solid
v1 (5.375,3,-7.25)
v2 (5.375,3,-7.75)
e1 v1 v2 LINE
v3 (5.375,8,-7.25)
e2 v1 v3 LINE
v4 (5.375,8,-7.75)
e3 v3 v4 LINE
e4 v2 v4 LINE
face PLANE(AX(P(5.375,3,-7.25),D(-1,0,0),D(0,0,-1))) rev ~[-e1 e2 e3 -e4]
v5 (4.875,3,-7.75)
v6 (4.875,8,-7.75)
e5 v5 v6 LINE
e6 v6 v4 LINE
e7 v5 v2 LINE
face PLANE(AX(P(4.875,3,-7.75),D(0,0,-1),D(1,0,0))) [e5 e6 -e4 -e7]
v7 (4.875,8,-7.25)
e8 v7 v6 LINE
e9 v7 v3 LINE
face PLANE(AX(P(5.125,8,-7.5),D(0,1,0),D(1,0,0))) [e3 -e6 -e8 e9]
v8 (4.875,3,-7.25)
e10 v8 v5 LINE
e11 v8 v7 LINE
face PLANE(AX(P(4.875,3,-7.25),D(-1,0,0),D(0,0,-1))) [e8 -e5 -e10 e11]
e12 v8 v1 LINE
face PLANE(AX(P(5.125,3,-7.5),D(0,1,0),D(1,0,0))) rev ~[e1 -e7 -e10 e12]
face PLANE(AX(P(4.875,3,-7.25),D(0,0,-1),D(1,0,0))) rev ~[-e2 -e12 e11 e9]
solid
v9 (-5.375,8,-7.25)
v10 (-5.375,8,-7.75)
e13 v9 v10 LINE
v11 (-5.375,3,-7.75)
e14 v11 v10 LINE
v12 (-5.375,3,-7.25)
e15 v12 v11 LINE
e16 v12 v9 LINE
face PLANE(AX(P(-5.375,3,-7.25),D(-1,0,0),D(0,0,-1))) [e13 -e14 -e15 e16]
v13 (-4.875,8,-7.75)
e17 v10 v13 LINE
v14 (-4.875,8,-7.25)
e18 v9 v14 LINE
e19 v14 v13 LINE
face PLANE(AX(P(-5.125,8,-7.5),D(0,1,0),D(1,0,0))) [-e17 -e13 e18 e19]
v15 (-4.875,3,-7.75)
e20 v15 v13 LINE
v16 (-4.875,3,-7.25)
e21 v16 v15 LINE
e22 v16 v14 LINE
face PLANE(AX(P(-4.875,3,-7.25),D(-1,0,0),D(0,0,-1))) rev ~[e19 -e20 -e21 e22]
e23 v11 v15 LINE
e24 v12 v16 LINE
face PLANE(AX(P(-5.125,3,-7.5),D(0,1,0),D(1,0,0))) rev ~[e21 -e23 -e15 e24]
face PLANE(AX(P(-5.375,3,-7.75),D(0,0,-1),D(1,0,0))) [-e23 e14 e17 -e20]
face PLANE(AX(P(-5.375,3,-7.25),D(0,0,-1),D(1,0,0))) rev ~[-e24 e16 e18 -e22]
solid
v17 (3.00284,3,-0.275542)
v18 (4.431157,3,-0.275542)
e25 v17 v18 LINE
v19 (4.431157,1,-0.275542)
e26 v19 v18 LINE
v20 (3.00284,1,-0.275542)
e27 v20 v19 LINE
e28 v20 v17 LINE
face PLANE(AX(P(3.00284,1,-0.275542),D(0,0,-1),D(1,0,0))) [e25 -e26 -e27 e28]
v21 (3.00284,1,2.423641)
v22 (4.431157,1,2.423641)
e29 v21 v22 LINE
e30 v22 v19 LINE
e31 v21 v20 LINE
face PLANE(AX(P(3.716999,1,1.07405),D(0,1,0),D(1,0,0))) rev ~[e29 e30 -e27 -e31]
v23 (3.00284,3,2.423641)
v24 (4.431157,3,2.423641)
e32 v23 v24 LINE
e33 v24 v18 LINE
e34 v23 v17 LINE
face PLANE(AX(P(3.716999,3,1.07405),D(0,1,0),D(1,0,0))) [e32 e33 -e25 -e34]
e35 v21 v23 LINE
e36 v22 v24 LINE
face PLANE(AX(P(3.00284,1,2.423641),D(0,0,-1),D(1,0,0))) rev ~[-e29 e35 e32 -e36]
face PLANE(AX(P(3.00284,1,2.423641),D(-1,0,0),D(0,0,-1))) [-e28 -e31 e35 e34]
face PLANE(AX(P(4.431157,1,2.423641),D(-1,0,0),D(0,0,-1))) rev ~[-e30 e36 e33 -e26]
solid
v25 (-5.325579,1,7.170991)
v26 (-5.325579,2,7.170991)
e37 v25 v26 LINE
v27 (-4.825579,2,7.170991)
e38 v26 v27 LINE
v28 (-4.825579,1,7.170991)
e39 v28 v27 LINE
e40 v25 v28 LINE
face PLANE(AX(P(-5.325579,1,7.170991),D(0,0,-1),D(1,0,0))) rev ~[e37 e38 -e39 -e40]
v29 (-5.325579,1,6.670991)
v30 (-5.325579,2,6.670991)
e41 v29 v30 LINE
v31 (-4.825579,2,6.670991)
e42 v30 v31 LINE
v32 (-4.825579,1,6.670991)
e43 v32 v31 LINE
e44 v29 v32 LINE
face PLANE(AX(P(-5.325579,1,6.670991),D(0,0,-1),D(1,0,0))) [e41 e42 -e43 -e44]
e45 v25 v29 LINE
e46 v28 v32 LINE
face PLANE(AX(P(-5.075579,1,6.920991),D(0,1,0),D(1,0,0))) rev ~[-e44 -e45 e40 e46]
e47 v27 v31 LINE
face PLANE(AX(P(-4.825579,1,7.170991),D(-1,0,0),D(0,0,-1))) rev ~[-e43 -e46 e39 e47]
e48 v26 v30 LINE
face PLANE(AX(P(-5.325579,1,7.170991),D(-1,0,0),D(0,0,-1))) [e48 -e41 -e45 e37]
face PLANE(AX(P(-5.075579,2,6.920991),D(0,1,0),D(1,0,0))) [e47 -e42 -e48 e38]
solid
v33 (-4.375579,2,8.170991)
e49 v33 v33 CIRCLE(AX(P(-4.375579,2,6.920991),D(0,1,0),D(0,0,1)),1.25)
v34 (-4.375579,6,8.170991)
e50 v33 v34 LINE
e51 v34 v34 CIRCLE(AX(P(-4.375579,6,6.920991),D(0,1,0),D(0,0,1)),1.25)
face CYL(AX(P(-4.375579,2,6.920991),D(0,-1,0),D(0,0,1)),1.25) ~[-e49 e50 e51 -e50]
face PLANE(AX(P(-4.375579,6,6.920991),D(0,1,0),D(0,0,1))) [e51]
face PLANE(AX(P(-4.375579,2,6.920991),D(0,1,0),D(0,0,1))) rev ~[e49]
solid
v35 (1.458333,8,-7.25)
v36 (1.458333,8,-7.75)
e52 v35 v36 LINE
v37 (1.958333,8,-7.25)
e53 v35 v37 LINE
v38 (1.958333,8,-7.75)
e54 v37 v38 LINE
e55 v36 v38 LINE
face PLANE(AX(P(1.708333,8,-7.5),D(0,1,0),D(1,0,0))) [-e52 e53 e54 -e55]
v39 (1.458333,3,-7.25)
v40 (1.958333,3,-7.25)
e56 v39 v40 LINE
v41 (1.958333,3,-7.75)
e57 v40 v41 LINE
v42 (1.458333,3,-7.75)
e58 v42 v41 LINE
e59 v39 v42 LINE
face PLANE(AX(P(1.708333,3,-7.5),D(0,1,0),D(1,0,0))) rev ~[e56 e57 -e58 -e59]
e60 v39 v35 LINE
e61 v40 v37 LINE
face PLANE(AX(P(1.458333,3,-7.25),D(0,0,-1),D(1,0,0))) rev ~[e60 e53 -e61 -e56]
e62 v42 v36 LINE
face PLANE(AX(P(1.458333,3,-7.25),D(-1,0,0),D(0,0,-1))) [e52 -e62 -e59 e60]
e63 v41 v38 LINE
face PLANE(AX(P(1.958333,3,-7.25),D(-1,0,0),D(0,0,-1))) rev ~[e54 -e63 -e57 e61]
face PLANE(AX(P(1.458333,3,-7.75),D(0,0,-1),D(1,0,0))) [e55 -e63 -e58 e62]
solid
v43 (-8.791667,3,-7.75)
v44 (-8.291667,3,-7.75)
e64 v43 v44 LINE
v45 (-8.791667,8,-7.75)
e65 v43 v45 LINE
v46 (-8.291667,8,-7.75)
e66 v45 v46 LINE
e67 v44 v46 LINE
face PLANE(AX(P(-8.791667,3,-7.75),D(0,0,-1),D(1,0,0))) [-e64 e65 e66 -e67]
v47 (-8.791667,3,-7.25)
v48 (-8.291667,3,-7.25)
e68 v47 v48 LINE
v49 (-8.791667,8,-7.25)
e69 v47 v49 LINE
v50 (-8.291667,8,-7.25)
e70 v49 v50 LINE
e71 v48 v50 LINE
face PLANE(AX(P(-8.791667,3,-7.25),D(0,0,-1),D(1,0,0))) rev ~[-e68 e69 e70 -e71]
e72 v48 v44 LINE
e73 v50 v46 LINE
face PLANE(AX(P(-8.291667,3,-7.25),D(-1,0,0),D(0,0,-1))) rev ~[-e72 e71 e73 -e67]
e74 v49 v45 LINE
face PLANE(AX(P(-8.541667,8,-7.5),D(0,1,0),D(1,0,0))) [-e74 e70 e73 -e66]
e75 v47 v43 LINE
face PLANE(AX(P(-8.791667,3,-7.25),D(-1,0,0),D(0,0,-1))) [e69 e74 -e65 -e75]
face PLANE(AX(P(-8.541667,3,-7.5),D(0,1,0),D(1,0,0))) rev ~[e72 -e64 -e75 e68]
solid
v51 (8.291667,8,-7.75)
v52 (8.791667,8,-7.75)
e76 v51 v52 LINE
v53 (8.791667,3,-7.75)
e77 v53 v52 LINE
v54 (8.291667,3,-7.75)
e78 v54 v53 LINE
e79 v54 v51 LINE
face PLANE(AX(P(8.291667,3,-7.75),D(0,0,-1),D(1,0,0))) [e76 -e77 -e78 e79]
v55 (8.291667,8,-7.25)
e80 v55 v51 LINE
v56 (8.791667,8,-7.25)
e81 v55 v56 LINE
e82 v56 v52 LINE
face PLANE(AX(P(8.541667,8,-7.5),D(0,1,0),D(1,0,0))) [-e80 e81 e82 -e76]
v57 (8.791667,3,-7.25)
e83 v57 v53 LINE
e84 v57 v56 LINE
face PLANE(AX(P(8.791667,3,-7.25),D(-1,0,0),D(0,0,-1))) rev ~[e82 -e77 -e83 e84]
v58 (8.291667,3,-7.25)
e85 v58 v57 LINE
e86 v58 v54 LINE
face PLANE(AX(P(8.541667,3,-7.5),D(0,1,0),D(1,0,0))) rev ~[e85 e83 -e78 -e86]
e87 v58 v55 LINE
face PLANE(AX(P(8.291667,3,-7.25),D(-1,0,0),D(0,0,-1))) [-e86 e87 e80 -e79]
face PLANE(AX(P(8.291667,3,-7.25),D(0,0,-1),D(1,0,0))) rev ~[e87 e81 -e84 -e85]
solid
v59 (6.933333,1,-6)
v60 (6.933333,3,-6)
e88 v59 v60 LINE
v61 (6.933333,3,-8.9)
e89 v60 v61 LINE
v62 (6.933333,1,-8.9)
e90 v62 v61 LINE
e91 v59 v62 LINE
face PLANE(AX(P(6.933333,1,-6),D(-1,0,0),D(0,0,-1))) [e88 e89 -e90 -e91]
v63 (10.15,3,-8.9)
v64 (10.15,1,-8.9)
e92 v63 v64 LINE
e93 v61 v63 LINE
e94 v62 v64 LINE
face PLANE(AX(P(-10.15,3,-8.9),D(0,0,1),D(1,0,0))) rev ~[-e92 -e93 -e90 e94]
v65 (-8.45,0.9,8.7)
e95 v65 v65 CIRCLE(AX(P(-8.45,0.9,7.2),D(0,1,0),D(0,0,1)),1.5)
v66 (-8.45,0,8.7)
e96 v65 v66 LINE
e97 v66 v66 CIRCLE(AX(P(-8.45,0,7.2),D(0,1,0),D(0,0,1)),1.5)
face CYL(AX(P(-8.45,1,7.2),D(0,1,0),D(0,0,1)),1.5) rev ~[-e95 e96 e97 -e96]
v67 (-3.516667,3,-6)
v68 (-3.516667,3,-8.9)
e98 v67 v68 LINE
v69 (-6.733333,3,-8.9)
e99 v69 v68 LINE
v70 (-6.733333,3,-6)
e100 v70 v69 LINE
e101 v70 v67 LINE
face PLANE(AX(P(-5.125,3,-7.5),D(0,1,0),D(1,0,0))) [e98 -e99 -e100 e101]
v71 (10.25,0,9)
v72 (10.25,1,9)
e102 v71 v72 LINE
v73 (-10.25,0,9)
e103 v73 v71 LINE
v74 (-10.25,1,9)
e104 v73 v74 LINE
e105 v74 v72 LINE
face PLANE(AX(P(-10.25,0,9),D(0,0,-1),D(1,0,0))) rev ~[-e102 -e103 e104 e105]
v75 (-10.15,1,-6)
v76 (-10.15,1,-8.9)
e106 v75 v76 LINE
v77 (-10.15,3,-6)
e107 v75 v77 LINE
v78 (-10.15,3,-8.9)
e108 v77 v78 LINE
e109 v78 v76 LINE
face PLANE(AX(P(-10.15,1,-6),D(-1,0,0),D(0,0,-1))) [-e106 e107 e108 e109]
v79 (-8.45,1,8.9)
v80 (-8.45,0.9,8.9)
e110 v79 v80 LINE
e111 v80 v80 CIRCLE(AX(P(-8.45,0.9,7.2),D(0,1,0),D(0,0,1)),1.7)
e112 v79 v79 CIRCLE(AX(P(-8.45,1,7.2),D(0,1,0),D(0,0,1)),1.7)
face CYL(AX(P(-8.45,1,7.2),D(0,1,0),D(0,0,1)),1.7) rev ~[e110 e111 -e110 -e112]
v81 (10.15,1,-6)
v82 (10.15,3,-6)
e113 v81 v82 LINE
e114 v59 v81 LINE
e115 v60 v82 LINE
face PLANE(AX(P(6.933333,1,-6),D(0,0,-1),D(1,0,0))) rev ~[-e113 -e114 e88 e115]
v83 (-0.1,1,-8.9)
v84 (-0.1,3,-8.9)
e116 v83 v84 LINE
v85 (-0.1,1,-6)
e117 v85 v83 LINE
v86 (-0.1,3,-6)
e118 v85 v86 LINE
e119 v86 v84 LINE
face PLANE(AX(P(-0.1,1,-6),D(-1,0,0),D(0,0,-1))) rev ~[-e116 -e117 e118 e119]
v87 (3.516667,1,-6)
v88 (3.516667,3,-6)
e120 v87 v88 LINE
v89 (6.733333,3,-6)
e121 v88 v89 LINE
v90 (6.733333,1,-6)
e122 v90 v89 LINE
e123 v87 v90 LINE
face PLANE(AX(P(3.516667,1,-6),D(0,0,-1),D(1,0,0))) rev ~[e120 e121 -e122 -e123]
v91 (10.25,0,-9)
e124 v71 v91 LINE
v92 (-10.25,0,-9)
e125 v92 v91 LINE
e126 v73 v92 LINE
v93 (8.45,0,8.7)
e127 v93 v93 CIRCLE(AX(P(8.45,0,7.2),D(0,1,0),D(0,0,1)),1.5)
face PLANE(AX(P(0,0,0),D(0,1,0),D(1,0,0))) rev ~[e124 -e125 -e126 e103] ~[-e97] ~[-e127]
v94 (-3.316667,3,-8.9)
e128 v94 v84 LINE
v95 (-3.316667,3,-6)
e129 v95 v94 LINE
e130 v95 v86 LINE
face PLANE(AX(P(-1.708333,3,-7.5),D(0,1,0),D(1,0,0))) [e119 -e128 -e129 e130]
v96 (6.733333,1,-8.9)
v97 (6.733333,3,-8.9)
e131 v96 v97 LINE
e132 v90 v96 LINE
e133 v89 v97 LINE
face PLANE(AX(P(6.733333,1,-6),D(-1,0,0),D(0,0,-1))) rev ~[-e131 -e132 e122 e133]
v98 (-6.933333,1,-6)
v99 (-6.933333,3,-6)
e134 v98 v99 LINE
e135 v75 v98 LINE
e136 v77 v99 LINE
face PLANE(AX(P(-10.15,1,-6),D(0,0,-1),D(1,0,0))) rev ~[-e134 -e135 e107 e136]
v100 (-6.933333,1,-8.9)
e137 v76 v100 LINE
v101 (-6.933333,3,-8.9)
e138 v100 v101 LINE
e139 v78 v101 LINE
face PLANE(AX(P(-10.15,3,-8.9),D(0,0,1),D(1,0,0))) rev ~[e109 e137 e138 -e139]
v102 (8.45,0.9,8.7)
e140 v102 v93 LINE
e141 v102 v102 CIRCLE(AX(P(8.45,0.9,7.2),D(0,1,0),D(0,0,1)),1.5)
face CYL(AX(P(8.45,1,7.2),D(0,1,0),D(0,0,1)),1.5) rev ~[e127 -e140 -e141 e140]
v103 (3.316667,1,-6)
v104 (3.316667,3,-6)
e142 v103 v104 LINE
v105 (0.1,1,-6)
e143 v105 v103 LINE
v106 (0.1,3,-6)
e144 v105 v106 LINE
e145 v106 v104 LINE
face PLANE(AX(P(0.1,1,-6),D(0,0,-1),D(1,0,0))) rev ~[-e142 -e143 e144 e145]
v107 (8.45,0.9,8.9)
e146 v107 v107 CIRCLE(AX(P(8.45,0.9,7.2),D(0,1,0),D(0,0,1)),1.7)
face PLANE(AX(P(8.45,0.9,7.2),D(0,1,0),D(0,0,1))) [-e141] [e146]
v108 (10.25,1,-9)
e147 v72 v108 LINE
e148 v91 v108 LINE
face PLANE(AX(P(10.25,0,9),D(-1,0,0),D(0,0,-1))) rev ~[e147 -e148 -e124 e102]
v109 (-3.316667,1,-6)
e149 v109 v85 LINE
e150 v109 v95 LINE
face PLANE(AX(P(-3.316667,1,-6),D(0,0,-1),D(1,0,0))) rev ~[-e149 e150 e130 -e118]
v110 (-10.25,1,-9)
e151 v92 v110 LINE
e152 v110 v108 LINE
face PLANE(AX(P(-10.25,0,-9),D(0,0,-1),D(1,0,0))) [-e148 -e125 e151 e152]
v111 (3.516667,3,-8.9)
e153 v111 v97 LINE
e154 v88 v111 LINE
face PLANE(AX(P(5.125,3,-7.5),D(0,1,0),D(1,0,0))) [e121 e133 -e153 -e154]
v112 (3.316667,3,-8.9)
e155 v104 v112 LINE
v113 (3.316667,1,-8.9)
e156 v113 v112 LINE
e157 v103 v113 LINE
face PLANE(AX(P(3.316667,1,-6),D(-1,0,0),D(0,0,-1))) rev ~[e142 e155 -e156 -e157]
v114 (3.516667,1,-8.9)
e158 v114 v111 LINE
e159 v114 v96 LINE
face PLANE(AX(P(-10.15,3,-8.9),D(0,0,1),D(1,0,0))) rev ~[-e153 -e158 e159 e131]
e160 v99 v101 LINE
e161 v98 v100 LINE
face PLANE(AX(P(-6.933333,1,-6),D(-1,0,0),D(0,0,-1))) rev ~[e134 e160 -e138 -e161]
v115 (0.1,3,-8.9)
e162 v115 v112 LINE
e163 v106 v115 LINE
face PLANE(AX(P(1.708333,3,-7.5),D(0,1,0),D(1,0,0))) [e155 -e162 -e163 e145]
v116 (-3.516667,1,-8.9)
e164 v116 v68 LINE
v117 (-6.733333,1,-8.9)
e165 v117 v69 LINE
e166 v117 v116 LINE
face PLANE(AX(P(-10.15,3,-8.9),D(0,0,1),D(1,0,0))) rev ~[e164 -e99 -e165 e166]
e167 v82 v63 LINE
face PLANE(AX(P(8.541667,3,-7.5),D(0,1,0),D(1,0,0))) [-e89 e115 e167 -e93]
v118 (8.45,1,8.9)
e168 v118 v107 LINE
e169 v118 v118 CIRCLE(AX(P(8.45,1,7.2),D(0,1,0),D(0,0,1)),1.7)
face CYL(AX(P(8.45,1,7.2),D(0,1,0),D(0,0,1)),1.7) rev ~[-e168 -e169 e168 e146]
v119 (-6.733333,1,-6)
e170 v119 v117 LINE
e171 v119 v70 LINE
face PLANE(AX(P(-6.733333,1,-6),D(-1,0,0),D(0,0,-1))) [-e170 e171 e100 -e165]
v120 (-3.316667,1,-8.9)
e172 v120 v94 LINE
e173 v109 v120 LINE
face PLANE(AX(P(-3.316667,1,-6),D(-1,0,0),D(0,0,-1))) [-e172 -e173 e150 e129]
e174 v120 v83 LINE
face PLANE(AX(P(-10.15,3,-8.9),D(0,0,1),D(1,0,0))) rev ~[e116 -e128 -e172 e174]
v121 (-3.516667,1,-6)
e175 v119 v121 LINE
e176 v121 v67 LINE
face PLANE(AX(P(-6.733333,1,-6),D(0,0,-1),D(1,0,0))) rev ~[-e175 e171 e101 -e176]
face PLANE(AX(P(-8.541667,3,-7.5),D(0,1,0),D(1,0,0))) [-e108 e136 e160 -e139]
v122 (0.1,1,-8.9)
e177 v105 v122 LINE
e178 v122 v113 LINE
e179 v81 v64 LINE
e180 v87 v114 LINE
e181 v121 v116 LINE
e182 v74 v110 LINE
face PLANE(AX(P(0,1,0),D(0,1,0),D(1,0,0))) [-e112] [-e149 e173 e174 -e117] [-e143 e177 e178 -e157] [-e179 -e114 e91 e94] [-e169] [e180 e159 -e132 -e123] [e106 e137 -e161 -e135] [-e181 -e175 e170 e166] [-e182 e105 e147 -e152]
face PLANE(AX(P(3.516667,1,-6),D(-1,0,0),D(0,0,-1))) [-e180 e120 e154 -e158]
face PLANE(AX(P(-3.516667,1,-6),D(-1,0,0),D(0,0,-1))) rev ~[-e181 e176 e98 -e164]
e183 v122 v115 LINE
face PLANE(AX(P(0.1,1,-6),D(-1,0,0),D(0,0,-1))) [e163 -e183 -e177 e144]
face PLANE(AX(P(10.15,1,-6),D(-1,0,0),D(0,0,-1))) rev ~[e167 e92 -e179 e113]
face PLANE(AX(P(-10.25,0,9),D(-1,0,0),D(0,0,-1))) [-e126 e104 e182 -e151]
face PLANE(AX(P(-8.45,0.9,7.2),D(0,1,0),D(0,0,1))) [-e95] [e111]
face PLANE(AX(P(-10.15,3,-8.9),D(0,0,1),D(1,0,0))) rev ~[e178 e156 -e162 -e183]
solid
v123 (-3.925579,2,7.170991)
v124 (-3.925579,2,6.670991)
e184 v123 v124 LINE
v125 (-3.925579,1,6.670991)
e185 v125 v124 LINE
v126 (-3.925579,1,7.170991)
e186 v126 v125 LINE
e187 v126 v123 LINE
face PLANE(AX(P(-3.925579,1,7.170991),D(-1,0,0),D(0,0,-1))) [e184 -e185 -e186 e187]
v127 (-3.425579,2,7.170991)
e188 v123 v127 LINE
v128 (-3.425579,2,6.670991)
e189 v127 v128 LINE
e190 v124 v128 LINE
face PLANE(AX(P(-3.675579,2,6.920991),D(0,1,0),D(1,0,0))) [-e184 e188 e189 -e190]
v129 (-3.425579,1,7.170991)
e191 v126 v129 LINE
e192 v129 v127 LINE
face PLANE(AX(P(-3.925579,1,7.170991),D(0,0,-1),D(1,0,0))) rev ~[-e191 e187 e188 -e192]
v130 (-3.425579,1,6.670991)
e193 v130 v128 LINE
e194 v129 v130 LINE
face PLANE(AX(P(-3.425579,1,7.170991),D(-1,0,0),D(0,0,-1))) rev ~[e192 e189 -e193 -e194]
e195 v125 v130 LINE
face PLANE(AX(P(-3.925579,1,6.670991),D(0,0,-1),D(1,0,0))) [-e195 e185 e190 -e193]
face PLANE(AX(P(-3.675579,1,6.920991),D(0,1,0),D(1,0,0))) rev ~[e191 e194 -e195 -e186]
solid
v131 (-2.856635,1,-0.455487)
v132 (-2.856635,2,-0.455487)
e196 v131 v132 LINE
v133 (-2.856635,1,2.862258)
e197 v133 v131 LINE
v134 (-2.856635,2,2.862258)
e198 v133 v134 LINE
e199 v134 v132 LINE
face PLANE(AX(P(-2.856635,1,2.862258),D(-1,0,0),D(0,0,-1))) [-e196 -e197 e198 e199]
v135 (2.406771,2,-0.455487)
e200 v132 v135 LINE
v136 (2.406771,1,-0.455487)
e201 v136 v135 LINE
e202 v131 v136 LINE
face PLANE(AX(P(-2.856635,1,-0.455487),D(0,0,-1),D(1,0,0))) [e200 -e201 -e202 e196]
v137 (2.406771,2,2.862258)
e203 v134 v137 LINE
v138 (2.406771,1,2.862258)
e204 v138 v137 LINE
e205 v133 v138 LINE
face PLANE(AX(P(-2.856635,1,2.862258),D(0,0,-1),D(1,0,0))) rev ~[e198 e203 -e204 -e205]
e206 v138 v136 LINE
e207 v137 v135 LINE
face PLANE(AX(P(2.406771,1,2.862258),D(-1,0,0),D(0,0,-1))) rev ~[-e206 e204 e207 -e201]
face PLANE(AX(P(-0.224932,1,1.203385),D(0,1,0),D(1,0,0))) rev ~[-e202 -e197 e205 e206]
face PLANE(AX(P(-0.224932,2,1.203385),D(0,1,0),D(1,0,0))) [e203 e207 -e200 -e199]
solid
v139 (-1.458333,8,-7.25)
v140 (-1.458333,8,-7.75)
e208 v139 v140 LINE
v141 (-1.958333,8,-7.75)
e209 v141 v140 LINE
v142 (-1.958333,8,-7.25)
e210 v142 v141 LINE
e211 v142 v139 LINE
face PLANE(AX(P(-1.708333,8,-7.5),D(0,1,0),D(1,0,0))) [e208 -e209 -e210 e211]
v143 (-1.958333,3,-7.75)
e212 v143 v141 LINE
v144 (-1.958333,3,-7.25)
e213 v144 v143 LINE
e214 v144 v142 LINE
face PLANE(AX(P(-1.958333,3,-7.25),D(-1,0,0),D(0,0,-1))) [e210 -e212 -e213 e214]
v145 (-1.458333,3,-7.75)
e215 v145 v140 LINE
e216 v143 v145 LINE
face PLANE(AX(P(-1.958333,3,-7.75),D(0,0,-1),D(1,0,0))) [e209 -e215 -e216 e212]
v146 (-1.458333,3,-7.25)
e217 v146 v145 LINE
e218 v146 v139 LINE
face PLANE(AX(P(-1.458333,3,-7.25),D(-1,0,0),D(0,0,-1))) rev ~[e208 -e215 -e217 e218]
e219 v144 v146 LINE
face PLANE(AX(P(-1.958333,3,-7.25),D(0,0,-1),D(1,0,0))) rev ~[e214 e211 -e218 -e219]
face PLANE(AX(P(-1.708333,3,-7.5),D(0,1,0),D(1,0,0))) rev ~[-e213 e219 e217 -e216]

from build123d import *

# Parameters (mm, degrees)
SKETCH_1_W          = 20.5
SKETCH_1_H          = 18
EXTRUDE_1_DEPTH     = 1
SKETCH_2_W          = 3.216666667
SKETCH_2_H          = 3
SKETCH_2_W_2        = 3.216666666
EXTRUDE_2_DEPTH     = 2
SKETCH_3_W          = 0.5
SKETCH_3_H          = 0.5
EXTRUDE_3_DEPTH     = 5
EXTRUDE_3_2_DEPTH   = 5
EXTRUDE_3_3_DEPTH   = 5
EXTRUDE_3_4_DEPTH   = 5
EXTRUDE_3_5_DEPTH   = 5
EXTRUDE_3_6_DEPTH   = 5
SKETCH_4_W          = 20.3
SKETCH_4_H          = 0.1
CUT_EXTRUDE_1_DEPTH = 2
SKETCH_5_R          = 1.5
CUT_EXTRUDE_2_DEPTH = 22
SKETCH_6_R          = 1.7
SKETCH_6_R_2        = 1.5
CUT_EXTRUDE_3_DEPTH = 0.1
SKETCH_7_W          = 0.5
SKETCH_7_H          = 0.5
EXTRUDE_4_DEPTH     = 1
EXTRUDE_4_2_DEPTH   = 1
SKETCH_8_R          = 1.25
EXTRUDE_5_DEPTH     = 4
SKETCH_9_W          = 5.263405332
SKETCH_9_H          = 3.317744814
EXTRUDE_6_DEPTH     = 1
SKETCH_10_W         = 1.428317259
SKETCH_10_H         = 2.699182221
EXTRUDE_7_DEPTH     = 2


with BuildPart() as part:
    # 스케치1 → 보스-돌출1 (new body)
    with BuildSketch(Plane(origin=(0, 0, 0), x_dir=(1, 0, 0), z_dir=(0, 1, 0))):
        Rectangle(SKETCH_1_W, SKETCH_1_H)
    extrude(amount=EXTRUDE_1_DEPTH)

    # 스케치2 → 보스-돌출2 (add)
    with BuildSketch(Plane(origin=(0, 1, 0), x_dir=(1, 0, 0), z_dir=(0, 1, 0))):
        with Locations((-8.541666666, 7.5)):
            Rectangle(SKETCH_2_W, SKETCH_2_H)
        with Locations((-5.125, 7.5)):
            Rectangle(SKETCH_2_W_2, SKETCH_2_H)
        with Locations((-1.708333334, 7.5)):
            Rectangle(SKETCH_2_W, SKETCH_2_H)
        with Locations((1.708333334, 7.5)):
            Rectangle(SKETCH_2_W, SKETCH_2_H)
        with Locations((5.125, 7.5)):
            Rectangle(SKETCH_2_W_2, SKETCH_2_H)
        with Locations((8.541666666, 7.5)):
            Rectangle(SKETCH_2_W, SKETCH_2_H)
    extrude(amount=EXTRUDE_2_DEPTH)

    # 스케치4 → 컷-돌출1 (cut)
    with BuildSketch(Plane(origin=(0, 3, 0), x_dir=(1, 0, 0), z_dir=(0, 1, 0))):
        with Locations((0, 8.95)):
            Rectangle(SKETCH_4_W, SKETCH_4_H)
    extrude(amount=-CUT_EXTRUDE_1_DEPTH, mode=Mode.SUBTRACT)

    # 스케치5 → 컷-돌출2 (cut)
    with BuildSketch(Plane(origin=(0, 1, 0), x_dir=(1, 0, 0), z_dir=(0, 1, 0))):
        with Locations(Location((-8.45, -7.2, 0), (0, 0, 270))):
            Circle(SKETCH_5_R)
        with Locations(Location((8.45, -7.2, 0), (0, 0, 270))):
            Circle(SKETCH_5_R)
    extrude(amount=-CUT_EXTRUDE_2_DEPTH, mode=Mode.SUBTRACT)

    # 스케치6 → 컷-돌출3 (cut)
    # profile 1 of 2: a face of its own
    with BuildSketch(Plane(origin=(0, 1, 0), x_dir=(1, 0, 0), z_dir=(0, 1, 0))):
        with Locations(Location((-8.45, -7.2, 0), (0, 0, 270))):
            Circle(SKETCH_6_R)
        with Locations(Location((-8.45, -7.2, 0), (0, 0, 270))):
            Circle(SKETCH_6_R_2, mode=Mode.SUBTRACT)
    # profile 2 of 2: a face of its own
    with BuildSketch(Plane(origin=(0, 1, 0), x_dir=(1, 0, 0), z_dir=(0, 1, 0))):
        with Locations(Location((8.45, -7.2, 0), (0, 0, 270))):
            Circle(SKETCH_6_R)
        with Locations(Location((8.45, -7.2, 0), (0, 0, 270))):
            Circle(SKETCH_6_R_2, mode=Mode.SUBTRACT)
    extrude(amount=-CUT_EXTRUDE_3_DEPTH, mode=Mode.SUBTRACT)


with BuildPart() as body_2:
    # 스케치3 → 보스-돌출3 (new body)
    with BuildSketch(Plane(origin=(0, 3, 0), x_dir=(1, 0, 0), z_dir=(0, 1, 0))):
        with Locations((-8.541666667, 7.5)):
            Rectangle(SKETCH_3_W, SKETCH_3_H)
    extrude(amount=EXTRUDE_3_DEPTH)


with BuildPart() as body_3:
    # 스케치3 → Extrude 3 2 (new body)
    with BuildSketch(Plane(origin=(0, 3, 0), x_dir=(1, 0, 0), z_dir=(0, 1, 0))):
        with Locations((-5.125, 7.5)):
            Rectangle(SKETCH_3_W, SKETCH_3_H)
    extrude(amount=EXTRUDE_3_2_DEPTH)


with BuildPart() as body_4:
    # 스케치3 → Extrude 3 3 (new body)
    with BuildSketch(Plane(origin=(0, 3, 0), x_dir=(1, 0, 0), z_dir=(0, 1, 0))):
        with Locations((-1.708333333, 7.5)):
            Rectangle(SKETCH_3_W, SKETCH_3_H)
    extrude(amount=EXTRUDE_3_3_DEPTH)


with BuildPart() as body_5:
    # 스케치3 → Extrude 3 4 (new body)
    with BuildSketch(Plane(origin=(0, 3, 0), x_dir=(1, 0, 0), z_dir=(0, 1, 0))):
        with Locations((1.708333333, 7.5)):
            Rectangle(SKETCH_3_W, SKETCH_3_H)
    extrude(amount=EXTRUDE_3_4_DEPTH)


with BuildPart() as body_6:
    # 스케치3 → Extrude 3 5 (new body)
    with BuildSketch(Plane(origin=(0, 3, 0), x_dir=(1, 0, 0), z_dir=(0, 1, 0))):
        with Locations((5.125, 7.5)):
            Rectangle(SKETCH_3_W, SKETCH_3_H)
    extrude(amount=EXTRUDE_3_5_DEPTH)


with BuildPart() as body_7:
    # 스케치3 → Extrude 3 6 (new body)
    with BuildSketch(Plane(origin=(0, 3, 0), x_dir=(1, 0, 0), z_dir=(0, 1, 0))):
        with Locations((8.541666667, 7.5)):
            Rectangle(SKETCH_3_W, SKETCH_3_H)
    extrude(amount=EXTRUDE_3_6_DEPTH)


with BuildPart() as body_8:
    # 스케치7 → 보스-돌출4 (new body)
    with BuildSketch(Plane(origin=(0, 1, 0), x_dir=(1, 0, 0), z_dir=(0, 1, 0))):
        with Locations((-3.675579376, -6.920991379)):
            Rectangle(SKETCH_7_W, SKETCH_7_H)
    extrude(amount=EXTRUDE_4_DEPTH)


with BuildPart() as body_9:
    # 스케치7 → Extrude 4 2 (new body)
    with BuildSketch(Plane(origin=(0, 1, 0), x_dir=(1, 0, 0), z_dir=(0, 1, 0))):
        with Locations((-5.075579376, -6.920991379)):
            Rectangle(SKETCH_7_W, SKETCH_7_H)
    extrude(amount=EXTRUDE_4_2_DEPTH)


with BuildPart() as body_10:
    # 스케치8 → 보스-돌출5 (new body)
    with BuildSketch(Plane(origin=(0, 2, 0), x_dir=(1, 0, 0), z_dir=(0, 1, 0))):
        with Locations(Location((-4.375579376, -6.920991379, 0), (0, 0, 270))):
            Circle(SKETCH_8_R)
    extrude(amount=EXTRUDE_5_DEPTH)


with BuildPart() as body_11:
    # 스케치9 → 보스-돌출6 (new body)
    with BuildSketch(Plane(origin=(0, 1, 0), x_dir=(1, 0, 0), z_dir=(0, 1, 0))):
        with Locations((-0.224931852, -1.203385407)):
            Rectangle(SKETCH_9_W, SKETCH_9_H)
    extrude(amount=EXTRUDE_6_DEPTH)


with BuildPart() as body_12:
    # 스케치10 → 보스-돌출7 (new body)
    with BuildSketch(Plane(origin=(0, 1, 0), x_dir=(1, 0, 0), z_dir=(0, 1, 0))):
        with Locations((3.716998851, -1.074049593)):
            Rectangle(SKETCH_10_W, SKETCH_10_H)
    extrude(amount=EXTRUDE_7_DEPTH)


solid = Compound([part.part, body_2.part, body_3.part, body_4.part, body_5.part, body_6.part, body_7.part, body_8.part, body_9.part, body_10.part, body_11.part, body_12.part])
